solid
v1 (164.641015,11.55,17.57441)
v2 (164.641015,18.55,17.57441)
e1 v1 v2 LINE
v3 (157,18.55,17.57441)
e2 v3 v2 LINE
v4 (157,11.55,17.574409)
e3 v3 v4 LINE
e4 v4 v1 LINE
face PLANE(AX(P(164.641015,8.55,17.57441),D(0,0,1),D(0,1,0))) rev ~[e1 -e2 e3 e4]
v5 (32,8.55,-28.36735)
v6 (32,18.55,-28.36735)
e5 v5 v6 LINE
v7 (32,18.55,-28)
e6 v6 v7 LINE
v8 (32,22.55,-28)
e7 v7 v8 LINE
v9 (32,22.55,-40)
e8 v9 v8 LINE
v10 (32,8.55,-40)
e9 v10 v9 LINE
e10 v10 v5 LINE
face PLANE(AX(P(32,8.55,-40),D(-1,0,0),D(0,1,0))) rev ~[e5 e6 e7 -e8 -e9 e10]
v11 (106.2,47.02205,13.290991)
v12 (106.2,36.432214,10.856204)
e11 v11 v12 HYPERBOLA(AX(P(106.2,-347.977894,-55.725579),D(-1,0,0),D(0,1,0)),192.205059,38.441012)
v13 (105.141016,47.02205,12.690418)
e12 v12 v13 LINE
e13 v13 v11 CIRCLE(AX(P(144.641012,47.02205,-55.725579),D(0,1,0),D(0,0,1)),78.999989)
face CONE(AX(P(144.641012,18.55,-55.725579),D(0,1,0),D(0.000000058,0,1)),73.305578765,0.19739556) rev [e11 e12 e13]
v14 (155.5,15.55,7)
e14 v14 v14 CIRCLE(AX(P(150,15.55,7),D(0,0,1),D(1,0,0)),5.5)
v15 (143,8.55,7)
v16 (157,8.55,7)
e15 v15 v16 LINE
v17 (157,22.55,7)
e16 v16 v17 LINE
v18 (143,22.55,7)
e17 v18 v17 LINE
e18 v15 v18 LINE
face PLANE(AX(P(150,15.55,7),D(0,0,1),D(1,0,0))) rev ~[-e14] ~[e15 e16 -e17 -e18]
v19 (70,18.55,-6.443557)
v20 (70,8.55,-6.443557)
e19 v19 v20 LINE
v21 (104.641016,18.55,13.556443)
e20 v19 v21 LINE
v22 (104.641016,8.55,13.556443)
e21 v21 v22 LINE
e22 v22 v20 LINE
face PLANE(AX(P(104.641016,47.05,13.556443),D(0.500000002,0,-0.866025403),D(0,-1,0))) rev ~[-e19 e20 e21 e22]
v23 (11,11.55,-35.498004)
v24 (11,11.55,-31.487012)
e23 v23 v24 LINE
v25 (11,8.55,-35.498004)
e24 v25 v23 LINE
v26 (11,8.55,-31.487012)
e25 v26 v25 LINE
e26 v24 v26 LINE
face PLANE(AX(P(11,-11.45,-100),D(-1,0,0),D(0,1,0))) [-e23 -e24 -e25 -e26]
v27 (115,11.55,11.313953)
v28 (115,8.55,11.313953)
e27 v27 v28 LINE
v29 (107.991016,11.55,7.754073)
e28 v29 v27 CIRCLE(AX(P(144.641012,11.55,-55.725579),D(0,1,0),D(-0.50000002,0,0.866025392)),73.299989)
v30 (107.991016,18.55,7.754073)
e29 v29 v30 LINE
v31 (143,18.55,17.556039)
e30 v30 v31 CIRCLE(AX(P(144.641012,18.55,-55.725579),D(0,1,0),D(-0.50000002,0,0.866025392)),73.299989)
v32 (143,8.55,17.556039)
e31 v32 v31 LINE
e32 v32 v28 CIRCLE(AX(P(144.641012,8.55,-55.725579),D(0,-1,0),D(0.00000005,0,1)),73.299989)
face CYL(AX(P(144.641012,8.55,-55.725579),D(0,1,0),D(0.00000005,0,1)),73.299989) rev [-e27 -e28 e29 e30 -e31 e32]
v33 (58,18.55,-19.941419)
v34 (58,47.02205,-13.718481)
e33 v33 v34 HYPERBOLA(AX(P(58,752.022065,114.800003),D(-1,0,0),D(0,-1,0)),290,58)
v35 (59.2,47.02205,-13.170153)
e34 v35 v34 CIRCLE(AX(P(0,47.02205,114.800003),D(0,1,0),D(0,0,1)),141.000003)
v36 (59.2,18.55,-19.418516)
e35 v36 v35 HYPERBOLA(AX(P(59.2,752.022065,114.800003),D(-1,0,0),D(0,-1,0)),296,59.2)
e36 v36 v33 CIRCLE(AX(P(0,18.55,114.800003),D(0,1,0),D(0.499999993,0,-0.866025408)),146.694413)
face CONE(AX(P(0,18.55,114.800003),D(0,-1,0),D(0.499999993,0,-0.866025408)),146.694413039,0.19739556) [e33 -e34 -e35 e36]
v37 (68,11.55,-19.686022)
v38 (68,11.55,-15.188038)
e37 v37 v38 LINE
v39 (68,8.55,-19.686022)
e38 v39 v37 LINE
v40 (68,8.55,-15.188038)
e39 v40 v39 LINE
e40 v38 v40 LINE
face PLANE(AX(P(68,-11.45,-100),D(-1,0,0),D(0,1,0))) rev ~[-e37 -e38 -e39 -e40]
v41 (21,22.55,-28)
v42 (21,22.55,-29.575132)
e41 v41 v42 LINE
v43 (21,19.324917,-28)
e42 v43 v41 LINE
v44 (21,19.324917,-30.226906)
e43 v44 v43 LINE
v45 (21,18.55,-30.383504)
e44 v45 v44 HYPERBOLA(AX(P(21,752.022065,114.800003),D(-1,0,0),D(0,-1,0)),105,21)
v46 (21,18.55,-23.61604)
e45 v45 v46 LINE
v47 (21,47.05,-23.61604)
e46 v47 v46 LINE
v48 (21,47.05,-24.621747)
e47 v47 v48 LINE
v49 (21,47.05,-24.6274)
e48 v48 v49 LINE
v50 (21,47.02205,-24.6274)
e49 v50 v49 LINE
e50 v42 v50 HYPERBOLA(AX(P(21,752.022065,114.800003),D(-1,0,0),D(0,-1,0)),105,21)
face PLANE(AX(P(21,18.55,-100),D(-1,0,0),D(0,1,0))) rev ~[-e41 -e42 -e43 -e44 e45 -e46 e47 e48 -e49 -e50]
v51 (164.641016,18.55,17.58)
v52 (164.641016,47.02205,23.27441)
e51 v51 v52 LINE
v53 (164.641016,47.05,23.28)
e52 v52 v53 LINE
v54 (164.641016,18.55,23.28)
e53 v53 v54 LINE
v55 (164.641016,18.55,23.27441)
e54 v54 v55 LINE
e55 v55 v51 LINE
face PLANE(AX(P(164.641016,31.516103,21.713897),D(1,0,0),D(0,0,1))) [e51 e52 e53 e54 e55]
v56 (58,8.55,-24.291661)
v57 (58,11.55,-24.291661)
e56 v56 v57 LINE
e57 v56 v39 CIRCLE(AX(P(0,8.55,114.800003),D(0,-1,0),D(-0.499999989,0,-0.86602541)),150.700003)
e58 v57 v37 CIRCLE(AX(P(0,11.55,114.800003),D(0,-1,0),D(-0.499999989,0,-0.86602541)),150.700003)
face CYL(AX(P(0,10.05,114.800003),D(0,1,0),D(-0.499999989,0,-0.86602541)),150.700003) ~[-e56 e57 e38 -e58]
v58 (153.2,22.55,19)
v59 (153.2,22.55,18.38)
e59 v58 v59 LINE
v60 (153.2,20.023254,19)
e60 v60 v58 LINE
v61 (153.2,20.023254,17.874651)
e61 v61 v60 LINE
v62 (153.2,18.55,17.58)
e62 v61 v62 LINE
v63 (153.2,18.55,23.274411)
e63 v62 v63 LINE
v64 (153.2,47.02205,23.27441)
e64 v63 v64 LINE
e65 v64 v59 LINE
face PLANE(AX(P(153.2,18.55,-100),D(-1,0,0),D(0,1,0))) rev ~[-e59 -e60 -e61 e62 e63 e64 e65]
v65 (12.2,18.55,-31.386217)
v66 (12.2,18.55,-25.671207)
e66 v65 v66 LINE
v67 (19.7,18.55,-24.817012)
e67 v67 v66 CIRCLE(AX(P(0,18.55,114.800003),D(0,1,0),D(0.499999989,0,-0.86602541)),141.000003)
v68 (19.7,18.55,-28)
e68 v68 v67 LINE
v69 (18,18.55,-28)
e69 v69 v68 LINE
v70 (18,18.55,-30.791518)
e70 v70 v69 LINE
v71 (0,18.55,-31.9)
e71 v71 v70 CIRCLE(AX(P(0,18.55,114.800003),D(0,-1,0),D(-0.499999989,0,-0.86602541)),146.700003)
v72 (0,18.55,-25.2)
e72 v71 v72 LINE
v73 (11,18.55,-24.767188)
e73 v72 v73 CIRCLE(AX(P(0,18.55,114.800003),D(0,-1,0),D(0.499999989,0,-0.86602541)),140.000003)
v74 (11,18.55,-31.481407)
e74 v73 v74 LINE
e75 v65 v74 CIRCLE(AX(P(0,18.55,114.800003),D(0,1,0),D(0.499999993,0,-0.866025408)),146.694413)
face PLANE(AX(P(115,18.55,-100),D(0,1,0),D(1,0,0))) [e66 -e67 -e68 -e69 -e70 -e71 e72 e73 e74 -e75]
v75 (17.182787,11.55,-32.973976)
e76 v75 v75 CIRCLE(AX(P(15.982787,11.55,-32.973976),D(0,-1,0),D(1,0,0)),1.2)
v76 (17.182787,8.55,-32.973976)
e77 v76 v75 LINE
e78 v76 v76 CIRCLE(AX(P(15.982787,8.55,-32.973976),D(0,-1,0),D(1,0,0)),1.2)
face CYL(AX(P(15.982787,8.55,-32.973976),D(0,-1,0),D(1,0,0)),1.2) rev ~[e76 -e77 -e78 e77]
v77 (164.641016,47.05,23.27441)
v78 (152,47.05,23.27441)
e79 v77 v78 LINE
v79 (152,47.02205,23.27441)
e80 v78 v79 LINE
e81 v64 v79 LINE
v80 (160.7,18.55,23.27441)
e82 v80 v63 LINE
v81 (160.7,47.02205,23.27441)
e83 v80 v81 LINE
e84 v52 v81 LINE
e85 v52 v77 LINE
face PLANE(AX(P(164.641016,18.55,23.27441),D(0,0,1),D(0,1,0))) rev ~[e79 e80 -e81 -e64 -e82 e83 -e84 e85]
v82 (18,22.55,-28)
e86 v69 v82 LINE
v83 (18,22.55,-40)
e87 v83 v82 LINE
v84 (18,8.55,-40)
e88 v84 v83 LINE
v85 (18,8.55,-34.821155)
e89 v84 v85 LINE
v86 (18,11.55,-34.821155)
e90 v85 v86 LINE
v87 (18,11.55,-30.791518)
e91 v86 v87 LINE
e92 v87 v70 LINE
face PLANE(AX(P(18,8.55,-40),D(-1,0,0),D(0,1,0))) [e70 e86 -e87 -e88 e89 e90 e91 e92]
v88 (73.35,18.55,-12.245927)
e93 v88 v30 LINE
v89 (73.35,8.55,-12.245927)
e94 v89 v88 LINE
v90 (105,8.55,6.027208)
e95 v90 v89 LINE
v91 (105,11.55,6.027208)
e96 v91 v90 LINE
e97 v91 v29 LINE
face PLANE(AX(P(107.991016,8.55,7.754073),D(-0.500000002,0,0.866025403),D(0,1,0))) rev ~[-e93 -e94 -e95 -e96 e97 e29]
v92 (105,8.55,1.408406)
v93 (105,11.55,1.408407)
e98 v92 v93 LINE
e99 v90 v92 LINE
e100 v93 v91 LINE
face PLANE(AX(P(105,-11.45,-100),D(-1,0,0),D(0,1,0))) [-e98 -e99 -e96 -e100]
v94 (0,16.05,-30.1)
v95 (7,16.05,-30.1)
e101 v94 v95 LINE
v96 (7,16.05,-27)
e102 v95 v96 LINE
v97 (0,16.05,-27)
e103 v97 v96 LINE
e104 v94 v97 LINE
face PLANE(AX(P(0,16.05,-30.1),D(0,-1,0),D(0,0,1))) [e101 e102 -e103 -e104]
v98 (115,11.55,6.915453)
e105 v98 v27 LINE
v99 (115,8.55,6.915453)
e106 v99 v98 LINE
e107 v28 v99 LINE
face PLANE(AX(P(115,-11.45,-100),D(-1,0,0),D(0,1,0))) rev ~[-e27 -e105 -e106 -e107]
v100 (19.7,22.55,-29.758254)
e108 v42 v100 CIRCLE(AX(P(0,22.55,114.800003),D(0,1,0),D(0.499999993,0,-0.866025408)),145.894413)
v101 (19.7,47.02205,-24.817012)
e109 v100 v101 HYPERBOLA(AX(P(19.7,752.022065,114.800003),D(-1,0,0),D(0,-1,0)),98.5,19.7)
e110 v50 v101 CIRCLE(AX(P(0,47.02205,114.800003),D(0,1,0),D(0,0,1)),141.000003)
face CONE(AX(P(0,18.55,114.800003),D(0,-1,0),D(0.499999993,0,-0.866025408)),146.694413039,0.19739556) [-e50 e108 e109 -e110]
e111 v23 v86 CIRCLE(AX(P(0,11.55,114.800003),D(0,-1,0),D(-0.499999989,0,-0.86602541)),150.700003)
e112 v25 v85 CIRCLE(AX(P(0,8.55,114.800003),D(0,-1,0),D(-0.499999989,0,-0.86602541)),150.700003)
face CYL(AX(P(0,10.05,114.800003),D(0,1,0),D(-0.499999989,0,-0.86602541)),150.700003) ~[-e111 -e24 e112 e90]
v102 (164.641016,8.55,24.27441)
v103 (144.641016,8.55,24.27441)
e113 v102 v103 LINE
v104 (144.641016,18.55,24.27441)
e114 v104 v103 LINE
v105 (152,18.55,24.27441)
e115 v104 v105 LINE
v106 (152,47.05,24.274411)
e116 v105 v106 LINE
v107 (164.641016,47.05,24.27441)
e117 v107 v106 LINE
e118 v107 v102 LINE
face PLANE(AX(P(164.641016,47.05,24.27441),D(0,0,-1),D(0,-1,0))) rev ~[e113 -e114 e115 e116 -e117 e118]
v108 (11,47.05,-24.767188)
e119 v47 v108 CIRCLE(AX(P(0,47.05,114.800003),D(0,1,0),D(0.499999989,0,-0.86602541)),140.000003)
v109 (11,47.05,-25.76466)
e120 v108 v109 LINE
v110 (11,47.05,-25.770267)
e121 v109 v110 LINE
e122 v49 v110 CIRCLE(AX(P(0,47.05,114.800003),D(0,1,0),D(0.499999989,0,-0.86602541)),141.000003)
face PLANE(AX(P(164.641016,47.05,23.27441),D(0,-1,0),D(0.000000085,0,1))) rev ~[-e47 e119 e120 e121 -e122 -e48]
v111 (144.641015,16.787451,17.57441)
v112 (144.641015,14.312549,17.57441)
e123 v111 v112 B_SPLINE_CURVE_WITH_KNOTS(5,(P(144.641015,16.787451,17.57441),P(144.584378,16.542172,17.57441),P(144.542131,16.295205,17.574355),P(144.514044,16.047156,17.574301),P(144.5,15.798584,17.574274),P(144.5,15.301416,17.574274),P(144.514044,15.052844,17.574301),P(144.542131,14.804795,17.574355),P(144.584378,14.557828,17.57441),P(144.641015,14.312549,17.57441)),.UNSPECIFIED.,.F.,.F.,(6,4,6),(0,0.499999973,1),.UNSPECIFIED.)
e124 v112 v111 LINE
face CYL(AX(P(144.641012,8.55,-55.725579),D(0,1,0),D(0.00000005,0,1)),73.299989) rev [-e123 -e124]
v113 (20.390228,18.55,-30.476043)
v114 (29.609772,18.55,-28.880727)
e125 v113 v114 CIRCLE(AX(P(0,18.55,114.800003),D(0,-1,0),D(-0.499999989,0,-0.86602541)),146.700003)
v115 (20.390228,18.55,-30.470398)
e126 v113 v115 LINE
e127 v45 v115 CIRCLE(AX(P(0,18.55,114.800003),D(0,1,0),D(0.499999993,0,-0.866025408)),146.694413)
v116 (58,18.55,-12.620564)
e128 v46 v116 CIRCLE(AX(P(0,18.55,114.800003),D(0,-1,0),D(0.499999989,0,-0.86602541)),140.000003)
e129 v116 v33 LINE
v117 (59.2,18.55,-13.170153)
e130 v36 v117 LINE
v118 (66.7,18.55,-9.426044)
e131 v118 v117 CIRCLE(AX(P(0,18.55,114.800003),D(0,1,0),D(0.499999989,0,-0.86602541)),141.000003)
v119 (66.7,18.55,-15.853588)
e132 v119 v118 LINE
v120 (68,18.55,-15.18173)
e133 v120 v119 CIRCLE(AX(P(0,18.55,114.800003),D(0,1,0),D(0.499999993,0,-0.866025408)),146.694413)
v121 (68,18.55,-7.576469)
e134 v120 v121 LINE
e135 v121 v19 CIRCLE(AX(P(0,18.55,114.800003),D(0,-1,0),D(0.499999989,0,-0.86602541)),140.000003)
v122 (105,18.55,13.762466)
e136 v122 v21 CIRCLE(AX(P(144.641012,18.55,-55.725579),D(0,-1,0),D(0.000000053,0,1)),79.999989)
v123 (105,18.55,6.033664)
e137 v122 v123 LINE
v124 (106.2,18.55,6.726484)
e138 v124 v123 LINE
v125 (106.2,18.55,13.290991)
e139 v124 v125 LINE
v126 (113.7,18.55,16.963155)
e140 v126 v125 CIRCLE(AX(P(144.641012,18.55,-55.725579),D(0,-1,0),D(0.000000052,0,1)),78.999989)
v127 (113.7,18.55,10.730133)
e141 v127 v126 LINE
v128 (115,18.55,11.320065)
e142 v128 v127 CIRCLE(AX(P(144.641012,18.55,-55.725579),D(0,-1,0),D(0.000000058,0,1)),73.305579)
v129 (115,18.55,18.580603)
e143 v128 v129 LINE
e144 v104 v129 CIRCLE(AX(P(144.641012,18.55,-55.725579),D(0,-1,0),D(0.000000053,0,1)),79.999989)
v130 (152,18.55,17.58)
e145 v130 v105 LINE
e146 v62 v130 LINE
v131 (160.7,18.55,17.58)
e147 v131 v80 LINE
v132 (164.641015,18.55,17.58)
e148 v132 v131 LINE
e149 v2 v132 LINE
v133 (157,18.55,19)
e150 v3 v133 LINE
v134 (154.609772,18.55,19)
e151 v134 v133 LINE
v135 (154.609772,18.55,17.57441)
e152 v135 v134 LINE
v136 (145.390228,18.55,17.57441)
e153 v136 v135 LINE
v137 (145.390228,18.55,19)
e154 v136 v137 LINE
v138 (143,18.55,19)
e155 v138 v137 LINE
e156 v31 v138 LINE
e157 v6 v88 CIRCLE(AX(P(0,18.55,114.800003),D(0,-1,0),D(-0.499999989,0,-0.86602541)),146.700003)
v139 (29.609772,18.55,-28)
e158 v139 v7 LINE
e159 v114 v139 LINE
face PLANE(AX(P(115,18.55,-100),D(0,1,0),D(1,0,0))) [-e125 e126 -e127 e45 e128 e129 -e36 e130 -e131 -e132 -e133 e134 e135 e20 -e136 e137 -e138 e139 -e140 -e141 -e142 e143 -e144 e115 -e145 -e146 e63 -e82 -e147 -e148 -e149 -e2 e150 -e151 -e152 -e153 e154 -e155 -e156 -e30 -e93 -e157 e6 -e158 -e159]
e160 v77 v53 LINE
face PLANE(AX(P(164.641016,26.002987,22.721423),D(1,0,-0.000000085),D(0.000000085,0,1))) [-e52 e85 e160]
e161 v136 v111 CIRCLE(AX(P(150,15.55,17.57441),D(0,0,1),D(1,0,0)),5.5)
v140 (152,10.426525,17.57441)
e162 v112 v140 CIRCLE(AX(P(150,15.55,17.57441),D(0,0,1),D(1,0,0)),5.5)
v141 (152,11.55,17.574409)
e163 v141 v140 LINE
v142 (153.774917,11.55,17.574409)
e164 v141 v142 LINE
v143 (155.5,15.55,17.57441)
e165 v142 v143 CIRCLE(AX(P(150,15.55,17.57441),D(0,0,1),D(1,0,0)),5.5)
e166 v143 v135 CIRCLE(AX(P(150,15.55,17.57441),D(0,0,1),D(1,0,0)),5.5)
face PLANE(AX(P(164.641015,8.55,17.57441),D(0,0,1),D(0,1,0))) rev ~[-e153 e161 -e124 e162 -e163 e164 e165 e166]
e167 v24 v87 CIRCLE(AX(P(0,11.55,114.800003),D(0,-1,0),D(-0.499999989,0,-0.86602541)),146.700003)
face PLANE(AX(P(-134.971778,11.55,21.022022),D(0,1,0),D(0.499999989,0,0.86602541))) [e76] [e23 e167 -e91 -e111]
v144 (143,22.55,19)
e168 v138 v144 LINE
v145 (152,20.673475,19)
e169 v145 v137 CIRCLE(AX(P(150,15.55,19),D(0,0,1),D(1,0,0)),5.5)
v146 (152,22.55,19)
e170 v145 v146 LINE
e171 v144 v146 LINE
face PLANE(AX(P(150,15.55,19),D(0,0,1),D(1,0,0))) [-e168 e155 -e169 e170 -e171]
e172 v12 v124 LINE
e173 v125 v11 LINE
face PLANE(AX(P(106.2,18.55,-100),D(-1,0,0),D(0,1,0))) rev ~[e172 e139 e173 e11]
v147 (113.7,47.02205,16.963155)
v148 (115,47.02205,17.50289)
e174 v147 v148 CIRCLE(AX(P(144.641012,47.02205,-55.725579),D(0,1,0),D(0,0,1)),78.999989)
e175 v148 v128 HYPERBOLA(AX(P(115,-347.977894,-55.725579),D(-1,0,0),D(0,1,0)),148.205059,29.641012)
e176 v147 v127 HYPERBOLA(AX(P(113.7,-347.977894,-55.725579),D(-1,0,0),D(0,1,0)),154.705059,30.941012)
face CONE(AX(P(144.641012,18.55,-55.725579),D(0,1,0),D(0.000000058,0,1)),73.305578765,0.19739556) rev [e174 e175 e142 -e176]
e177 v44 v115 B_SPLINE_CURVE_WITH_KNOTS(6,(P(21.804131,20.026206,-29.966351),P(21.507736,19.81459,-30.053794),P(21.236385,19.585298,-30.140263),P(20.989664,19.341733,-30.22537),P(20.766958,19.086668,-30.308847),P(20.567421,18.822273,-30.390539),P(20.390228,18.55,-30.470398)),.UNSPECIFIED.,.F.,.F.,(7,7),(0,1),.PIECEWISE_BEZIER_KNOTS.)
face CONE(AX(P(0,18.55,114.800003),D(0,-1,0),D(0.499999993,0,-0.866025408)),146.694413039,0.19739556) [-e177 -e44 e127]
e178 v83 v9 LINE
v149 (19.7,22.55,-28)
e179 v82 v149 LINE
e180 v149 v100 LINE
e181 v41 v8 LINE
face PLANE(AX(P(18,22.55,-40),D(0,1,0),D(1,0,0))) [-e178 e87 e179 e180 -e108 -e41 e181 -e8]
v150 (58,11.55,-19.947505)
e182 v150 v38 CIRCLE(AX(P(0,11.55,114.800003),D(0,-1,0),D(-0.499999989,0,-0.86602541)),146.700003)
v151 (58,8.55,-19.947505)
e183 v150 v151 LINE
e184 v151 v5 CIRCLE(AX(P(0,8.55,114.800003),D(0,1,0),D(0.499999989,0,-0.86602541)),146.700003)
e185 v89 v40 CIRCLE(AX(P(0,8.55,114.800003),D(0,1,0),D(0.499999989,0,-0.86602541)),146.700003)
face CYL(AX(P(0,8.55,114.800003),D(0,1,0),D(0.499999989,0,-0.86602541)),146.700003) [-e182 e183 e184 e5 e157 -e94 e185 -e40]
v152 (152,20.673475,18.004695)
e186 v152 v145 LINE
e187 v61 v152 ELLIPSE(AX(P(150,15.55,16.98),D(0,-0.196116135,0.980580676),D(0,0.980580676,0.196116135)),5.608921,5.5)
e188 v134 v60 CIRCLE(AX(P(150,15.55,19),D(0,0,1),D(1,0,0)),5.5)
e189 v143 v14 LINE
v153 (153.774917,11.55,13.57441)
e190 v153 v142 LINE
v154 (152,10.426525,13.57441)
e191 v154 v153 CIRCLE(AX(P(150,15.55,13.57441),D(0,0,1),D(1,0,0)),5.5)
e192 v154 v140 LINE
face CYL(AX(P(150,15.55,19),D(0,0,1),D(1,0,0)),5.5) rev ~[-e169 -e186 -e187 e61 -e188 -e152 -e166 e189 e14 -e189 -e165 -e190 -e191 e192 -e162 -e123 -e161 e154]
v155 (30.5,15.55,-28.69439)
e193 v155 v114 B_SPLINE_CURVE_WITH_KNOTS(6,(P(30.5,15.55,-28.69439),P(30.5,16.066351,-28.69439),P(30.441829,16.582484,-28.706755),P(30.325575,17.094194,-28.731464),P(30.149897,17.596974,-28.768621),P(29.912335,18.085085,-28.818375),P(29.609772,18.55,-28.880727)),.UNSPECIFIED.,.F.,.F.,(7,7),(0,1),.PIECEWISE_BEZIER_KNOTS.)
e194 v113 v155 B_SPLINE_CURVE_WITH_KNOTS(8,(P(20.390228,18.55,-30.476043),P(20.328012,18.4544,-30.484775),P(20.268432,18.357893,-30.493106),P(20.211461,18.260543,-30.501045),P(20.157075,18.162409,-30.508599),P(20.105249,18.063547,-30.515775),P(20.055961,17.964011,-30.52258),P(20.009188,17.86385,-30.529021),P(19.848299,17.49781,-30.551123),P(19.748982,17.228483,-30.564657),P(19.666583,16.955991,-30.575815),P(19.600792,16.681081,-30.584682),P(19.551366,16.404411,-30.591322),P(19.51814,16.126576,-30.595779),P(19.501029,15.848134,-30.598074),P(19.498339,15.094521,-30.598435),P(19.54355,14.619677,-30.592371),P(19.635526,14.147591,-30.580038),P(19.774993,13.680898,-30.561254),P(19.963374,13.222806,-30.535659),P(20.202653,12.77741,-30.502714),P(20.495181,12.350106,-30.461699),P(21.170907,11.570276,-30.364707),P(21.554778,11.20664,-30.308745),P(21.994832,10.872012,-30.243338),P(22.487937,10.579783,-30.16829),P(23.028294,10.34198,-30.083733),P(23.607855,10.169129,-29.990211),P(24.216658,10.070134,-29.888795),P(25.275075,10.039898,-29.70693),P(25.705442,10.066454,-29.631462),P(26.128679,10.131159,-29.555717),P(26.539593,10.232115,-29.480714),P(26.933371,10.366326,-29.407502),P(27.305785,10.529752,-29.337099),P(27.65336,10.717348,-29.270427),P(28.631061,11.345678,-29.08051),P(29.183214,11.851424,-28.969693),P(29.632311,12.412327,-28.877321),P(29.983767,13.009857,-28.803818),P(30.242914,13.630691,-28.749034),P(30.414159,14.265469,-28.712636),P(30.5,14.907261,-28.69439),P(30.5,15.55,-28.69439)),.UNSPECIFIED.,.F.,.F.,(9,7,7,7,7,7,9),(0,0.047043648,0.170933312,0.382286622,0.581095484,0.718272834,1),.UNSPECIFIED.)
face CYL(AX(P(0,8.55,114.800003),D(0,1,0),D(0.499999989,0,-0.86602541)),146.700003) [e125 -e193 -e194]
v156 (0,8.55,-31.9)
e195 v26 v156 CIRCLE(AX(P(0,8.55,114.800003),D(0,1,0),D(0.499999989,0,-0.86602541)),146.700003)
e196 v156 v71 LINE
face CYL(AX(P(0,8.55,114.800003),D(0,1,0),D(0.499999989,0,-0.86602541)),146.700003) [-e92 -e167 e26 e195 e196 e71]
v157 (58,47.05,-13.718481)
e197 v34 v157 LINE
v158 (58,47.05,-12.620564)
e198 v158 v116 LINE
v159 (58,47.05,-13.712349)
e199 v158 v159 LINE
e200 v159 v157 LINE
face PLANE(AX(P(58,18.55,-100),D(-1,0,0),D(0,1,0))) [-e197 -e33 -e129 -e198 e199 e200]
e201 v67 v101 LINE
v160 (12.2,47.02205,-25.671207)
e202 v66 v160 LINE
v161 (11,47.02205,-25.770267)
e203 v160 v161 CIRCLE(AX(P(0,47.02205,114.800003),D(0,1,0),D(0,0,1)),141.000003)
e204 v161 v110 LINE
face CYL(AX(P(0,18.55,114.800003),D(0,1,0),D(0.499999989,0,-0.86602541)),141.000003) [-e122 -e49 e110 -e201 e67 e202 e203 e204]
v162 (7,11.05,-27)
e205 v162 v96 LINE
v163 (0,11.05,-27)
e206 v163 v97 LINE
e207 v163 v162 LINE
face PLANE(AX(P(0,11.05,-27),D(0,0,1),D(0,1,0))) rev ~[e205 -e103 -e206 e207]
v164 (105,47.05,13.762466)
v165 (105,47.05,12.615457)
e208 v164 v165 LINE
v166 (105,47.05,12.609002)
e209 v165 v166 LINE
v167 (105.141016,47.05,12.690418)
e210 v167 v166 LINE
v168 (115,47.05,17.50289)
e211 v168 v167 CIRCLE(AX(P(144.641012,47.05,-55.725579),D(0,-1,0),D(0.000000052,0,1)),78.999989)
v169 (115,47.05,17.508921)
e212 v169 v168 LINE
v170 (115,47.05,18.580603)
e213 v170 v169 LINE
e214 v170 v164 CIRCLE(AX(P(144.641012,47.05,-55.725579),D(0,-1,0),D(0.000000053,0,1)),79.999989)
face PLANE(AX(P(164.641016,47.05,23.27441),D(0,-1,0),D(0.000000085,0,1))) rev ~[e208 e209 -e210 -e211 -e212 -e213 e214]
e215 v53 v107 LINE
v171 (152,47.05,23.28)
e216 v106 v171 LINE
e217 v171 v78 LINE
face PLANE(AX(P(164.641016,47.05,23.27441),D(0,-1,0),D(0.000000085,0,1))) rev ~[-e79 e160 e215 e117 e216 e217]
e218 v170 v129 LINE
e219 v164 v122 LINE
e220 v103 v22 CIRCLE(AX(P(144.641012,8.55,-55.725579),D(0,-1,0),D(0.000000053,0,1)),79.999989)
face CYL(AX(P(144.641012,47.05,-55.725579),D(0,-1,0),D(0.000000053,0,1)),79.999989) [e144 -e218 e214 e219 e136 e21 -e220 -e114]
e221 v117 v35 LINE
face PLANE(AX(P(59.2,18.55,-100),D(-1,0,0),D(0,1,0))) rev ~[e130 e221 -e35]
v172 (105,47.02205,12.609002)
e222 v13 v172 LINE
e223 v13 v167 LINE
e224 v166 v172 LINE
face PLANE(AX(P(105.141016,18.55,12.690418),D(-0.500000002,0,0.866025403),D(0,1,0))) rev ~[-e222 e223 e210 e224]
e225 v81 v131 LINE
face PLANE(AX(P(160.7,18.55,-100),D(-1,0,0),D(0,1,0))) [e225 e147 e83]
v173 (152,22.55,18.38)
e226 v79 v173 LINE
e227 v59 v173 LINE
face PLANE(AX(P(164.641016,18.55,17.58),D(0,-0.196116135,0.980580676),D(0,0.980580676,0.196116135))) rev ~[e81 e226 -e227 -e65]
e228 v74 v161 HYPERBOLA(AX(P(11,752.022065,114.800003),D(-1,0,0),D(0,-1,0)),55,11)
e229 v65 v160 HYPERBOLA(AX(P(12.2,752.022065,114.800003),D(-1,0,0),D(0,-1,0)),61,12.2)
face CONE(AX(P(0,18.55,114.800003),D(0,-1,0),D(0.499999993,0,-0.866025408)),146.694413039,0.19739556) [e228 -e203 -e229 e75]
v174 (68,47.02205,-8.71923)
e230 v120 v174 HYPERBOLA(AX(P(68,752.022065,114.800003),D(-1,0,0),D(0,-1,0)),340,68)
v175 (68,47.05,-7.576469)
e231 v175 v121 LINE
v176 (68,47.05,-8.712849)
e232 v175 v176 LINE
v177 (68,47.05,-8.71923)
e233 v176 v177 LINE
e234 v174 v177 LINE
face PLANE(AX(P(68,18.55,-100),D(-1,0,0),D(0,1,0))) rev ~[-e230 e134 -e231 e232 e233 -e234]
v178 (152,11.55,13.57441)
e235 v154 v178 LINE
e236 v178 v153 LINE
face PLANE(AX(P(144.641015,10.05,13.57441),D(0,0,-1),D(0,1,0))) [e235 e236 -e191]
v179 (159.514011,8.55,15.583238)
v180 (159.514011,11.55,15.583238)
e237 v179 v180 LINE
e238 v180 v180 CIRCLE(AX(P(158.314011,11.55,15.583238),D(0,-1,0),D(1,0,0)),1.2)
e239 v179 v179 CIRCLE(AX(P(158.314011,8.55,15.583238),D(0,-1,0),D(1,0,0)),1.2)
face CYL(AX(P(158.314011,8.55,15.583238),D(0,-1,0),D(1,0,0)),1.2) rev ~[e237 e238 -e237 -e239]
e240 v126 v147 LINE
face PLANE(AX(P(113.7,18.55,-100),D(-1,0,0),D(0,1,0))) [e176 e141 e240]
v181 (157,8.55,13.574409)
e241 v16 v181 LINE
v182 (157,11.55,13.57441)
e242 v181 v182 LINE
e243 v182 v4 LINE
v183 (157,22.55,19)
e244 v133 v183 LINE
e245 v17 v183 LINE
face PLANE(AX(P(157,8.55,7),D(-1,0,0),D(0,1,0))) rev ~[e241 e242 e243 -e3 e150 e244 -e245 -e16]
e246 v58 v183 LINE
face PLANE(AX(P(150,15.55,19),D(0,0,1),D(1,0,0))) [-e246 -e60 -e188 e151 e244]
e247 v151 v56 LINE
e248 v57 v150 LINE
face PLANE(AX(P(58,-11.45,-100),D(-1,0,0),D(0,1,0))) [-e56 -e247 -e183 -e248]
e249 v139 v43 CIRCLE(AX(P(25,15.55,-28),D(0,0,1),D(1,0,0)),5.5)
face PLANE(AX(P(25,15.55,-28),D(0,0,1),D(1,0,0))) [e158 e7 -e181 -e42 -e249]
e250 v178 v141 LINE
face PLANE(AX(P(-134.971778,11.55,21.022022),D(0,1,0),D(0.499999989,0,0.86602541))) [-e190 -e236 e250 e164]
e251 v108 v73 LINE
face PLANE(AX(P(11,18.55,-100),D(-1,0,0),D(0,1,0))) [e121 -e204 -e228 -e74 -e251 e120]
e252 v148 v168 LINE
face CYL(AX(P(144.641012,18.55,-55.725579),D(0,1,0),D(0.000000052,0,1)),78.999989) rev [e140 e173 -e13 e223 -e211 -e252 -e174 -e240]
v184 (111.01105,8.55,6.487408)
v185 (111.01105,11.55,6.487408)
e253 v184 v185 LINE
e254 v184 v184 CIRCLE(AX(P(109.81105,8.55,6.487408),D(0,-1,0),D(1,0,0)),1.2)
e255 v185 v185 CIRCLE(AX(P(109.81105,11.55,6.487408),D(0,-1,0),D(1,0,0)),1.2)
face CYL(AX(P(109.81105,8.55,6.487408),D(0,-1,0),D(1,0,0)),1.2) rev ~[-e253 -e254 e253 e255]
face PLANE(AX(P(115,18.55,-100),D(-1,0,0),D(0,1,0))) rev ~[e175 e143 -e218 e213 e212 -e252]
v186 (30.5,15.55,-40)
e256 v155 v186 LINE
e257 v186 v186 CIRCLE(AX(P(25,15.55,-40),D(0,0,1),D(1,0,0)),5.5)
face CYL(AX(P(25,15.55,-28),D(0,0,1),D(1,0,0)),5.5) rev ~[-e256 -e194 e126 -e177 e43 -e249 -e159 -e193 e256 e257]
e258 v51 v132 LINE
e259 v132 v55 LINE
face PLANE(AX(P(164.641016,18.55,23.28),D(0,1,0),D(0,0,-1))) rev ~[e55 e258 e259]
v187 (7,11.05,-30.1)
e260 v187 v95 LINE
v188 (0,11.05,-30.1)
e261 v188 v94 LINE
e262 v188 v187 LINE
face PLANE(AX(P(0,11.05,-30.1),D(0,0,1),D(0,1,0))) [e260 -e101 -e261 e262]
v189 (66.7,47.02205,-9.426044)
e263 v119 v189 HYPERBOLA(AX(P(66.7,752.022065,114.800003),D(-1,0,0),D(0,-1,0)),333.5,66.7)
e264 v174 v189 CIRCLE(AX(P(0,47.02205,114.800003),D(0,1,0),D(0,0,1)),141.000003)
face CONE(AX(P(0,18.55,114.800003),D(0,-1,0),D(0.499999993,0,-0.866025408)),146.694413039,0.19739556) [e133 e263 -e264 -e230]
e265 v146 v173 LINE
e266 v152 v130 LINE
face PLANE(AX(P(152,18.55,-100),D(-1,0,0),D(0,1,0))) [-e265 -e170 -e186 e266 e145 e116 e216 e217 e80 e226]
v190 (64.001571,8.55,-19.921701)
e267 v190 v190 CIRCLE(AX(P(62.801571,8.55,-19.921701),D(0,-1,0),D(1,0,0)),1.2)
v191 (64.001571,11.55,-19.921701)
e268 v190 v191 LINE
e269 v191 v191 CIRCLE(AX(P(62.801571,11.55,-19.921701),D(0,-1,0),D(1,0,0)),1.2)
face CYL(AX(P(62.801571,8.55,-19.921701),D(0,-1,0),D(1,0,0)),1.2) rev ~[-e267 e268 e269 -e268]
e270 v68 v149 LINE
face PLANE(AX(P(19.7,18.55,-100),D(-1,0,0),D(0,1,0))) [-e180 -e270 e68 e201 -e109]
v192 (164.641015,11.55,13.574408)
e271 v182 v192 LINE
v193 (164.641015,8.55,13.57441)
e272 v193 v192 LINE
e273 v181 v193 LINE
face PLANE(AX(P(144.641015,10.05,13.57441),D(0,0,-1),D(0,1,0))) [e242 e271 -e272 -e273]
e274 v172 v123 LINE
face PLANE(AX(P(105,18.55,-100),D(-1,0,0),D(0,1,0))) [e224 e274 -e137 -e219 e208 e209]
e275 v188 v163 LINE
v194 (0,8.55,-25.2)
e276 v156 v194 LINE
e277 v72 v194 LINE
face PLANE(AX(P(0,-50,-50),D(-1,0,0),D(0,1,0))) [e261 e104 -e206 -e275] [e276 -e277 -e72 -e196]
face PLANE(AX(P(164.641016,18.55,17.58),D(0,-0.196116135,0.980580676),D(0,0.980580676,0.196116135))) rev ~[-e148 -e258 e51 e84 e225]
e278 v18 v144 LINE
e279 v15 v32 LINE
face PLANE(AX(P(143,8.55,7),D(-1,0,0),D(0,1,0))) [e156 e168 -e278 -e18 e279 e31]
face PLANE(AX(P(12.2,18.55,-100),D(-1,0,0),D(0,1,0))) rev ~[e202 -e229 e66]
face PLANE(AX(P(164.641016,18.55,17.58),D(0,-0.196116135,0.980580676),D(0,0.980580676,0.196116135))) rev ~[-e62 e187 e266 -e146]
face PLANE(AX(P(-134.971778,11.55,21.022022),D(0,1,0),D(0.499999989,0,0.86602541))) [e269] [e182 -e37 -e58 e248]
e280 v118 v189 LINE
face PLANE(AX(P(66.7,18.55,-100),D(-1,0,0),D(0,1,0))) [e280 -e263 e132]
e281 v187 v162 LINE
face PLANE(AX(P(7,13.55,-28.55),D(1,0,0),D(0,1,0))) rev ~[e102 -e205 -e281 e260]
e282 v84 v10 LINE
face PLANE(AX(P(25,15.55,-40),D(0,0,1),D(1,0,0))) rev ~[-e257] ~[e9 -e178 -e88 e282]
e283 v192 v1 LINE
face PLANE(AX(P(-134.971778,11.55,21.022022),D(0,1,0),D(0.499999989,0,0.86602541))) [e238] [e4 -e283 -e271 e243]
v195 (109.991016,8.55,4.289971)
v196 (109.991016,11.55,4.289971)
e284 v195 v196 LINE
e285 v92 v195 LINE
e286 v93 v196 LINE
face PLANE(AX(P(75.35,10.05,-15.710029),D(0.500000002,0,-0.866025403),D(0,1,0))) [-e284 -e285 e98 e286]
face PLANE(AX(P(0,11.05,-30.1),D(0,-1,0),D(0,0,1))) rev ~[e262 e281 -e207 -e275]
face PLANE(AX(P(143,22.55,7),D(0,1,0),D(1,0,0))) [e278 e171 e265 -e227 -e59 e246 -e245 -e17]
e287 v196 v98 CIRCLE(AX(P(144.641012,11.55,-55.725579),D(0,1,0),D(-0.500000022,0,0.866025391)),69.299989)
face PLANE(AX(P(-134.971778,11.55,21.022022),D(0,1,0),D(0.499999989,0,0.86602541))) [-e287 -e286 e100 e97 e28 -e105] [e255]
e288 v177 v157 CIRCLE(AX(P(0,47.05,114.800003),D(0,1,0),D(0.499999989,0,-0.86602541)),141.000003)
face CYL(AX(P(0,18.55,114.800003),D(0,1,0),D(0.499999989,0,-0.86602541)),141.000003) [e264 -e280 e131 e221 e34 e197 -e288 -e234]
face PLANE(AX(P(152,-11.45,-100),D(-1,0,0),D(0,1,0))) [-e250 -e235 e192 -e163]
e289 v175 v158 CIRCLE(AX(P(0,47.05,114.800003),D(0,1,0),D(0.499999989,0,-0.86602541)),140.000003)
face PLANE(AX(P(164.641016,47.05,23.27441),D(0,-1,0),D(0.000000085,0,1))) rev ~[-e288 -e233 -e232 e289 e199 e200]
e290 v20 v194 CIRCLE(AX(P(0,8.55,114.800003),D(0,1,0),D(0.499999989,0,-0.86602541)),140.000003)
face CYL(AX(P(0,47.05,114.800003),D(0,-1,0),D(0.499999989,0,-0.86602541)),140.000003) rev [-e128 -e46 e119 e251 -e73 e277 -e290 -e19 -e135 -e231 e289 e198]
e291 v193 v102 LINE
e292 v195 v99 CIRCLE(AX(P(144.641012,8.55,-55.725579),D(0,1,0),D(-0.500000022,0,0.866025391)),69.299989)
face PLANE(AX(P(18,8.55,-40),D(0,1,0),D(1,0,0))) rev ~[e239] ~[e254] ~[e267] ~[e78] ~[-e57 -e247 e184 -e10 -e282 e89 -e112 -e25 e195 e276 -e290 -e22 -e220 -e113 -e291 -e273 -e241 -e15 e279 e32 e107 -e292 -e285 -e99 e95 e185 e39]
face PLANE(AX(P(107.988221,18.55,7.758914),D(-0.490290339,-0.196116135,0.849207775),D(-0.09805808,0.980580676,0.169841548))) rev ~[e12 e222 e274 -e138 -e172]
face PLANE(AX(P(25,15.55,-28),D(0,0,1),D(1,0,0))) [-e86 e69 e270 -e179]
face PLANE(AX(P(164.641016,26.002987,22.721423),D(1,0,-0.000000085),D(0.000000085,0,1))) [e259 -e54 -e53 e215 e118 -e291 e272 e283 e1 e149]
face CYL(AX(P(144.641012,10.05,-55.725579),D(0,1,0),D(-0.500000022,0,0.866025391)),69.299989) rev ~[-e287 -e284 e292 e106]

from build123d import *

# Parameters (mm, degrees)
SKETCH038_W            = 5
SKETCH038_H            = 3.1
EXTRUDE001_DEPTH       = 7
BOX010_W               = 200
BOX010_H               = 100
BOX010_DEPTH           = 100
BOX008_W               = 20
BOX008_H               = 20
BOX008_DEPTH           = 20
BOX008_PLACEMENT_ANGLE = 30
BOX011_W               = 14
BOX011_H               = 14
BOX011_DEPTH           = 20
SKETCH039_R            = 5.5
POCKET007_DEPTH        = 20.001
BOX014_W               = 7.5
BOX014_H               = 60
BOX014_DEPTH           = 200
ARRAY002_X_COUNT       = 7
ARRAY002_X_PITCH       = 47
BOX006_W               = 37
BOX006_H               = 60
BOX006_DEPTH           = 200
ARRAY_X_COUNT          = 6
ARRAY_X_PITCH          = 47
BOX012_W               = 14
BOX012_H               = 14
BOX012_DEPTH           = 12
SKETCH032_R            = 5.5
POCKET009_DEPTH        = 12.001
BOX013_W               = 14
BOX013_H               = 14
BOX013_DEPTH           = 12
SKETCH034_R            = 5.5
POCKET008_DEPTH        = 12.001
BOX009_W               = 37
BOX009_H               = 60
BOX009_DEPTH           = 200
ARRAY001_X_COUNT       = 6
ARRAY001_X_PITCH       = 47
SKETCH035_W            = 3
SKETCH035_H            = 4
SKETCH036_R            = 1.2
POCKET006_DEPTH        = 3.001


with BuildPart() as extrude001:
    # Sketch038 → Extrude001 (new body)
    with BuildSketch(Plane.YZ):
        with Locations((13.55, -28.55)):
            Rectangle(SKETCH038_W, SKETCH038_H)
    extrude(amount=EXTRUDE001_DEPTH)


with BuildPart() as bigleft:
    # Box010 → Box010 (new body)
    with BuildSketch(Plane(origin=(0, -50, -50), x_dir=(1, 0, 0), z_dir=(0, 0, 1))):
        with Locations((100, 50)):
            Rectangle(BOX010_W, BOX010_H)
    extrude(amount=BOX010_DEPTH)


with BuildPart() as pillar_cut_cube_l:
    # Box008 → Box008 (new body)
    with BuildSketch(Plane.XY):
        with Locations((10, 10)):
            Rectangle(BOX008_W, BOX008_H)
    extrude(amount=BOX008_DEPTH)


with BuildPart() as pillar_cut_cube_l_1:
    # Box008 placement: moved
    add(pillar_cut_cube_l.part.moved(Location((-127.001, 5, 20.4905))).rotate(Axis((-127.001, 5, 20.4905), (0, 1, 0)), BOX008_PLACEMENT_ANGLE))


with BuildPart() as cut011:
    # Box011 → Box011 (new body)
    with BuildSketch(Plane(origin=(-125, 8.55, 0), x_dir=(1, 0, 0), z_dir=(0, 0, 1))):
        with Locations((7, 7)):
            Rectangle(BOX011_W, BOX011_H)
    extrude(amount=BOX011_DEPTH)

    # Sketch039 → Pocket007 (cut, through all)
    with BuildSketch(Plane(origin=(-125, 8.55, 20), x_dir=(1, 0, 0), z_dir=(0, 0, 1))):
        with Locations((7, 7)):
            Circle(SKETCH039_R)
    extrude(amount=-POCKET007_DEPTH, mode=Mode.SUBTRACT)

    # Cut011: cut pillar_cut_cube_l
    add(pillar_cut_cube_l_1.part, mode=Mode.SUBTRACT)


with BuildPart() as array002:
    # Box014 → Box014 (new body)
    with BuildSketch(Plane(origin=(-128.8, 18.55, -100), x_dir=(1, 0, 0), z_dir=(0, 0, 1))):
        with Locations((3.75, 30)):
            Rectangle(BOX014_W, BOX014_H)
    extrude(amount=BOX014_DEPTH)

    # Array002 X: Array002 ×7


with BuildPart() as array002_1:
    add(array002.part)
    with Locations(*[(i * ARRAY002_X_PITCH, 0, 0) for i in range(1, ARRAY002_X_COUNT)]):
        add(array002.part)


with BuildPart() as rail_cut_cube_array_b:
    # Box006 → Box006 (new body)
    with BuildSketch(Plane(origin=(-120, 18.55, -100), x_dir=(1, 0, 0), z_dir=(0, 0, 1))):
        with Locations((18.5, 30)):
            Rectangle(BOX006_W, BOX006_H)
    extrude(amount=BOX006_DEPTH)

    # Array X: rail_cut_cube_array_b ×6


with BuildPart() as rail_cut_cube_array_b_1:
    add(rail_cut_cube_array_b.part)
    with Locations(*[(i * ARRAY_X_PITCH, 0, 0) for i in range(1, ARRAY_X_COUNT)]):
        add(rail_cut_cube_array_b.part)


with BuildPart() as cut013:
    # Sweep002: sweep along a path in Sketch028
    with BuildLine(Plane.XZ) as sweep002_path:
        Line((164.641016, 24.27441), (144.641016, 24.27441))
        ThreePointArc((144.641016, 24.27441), (123.935493, 21.548477), (104.641016, 13.556443))
        Line((104.641016, 13.556443), (70, -6.443557))
        ThreePointArc((70, -6.443557), (0, -25.2), (-70, -6.443557))
        Line((-70, -6.443557), (-130.621778, 28.556443))
    # Sketch043 → Sweep002 (sweep)
    with BuildSketch(Plane.YZ.offset(164.641016)):
        Polygon((18.55, 17.58), (47.05, 23.28), (18.55, 23.28), align=None)
    sweep(path=sweep002_path.line)

    # Cut012: cut rail_cut_cube_array_b
    add(rail_cut_cube_array_b_1.part, mode=Mode.SUBTRACT)

    # Cut013: cut Array002
    add(array002_1.part, mode=Mode.SUBTRACT)


with BuildPart() as rail_cut_b:
    # Sweep: sweep along a path in Sketch028
    with BuildLine(Plane.XZ) as sweep_path:
        Line((164.641016, 24.27441), (144.641016, 24.27441))
        ThreePointArc((144.641016, 24.27441), (123.935493, 21.548477), (104.641016, 13.556443))
        Line((104.641016, 13.556443), (70, -6.443557))
        ThreePointArc((70, -6.443557), (0, -25.2), (-70, -6.443557))
        Line((-70, -6.443557), (-130.621778, 28.556443))
    # Sketch029 → Sweep (sweep)
    with BuildSketch(Plane.YZ):
        Polygon((-19.25, -25.2), (-19.25, -31.9), (-9.25, -31.9), (-9.25, -26.2), (19.25, -26.2), (19.25, -25.2), align=None)
    sweep(path=sweep_path.line)


with BuildPart() as rail_cut_b_1:
    # Sweep placement: moved
    add(rail_cut_b.part.moved(Location((0, 27.8, 0))))

    # Cut007: cut rail_cut_cube_array_b
    add(rail_cut_cube_array_b_1.part, mode=Mode.SUBTRACT)


with BuildPart() as pillar_hollow_r:
    # Box012 → Box012 (new body)
    with BuildSketch(Plane(origin=(143, 8.55, 7), x_dir=(1, 0, 0), z_dir=(0, 0, 1))):
        with Locations((7, 7)):
            Rectangle(BOX012_W, BOX012_H)
    extrude(amount=BOX012_DEPTH)

    # Sketch032 → Pocket009 (cut, through all)
    with BuildSketch(Plane(origin=(143, 8.55, 19), x_dir=(1, 0, 0), z_dir=(0, 0, 1))):
        with Locations((7, 7)):
            Circle(SKETCH032_R)
    extrude(amount=-POCKET009_DEPTH, mode=Mode.SUBTRACT)


with BuildPart() as pillar_hollow_m:
    # Box013 → Box013 (new body)
    with BuildSketch(Plane(origin=(18, 8.55, -40), x_dir=(1, 0, 0), z_dir=(0, 0, 1))):
        with Locations((7, 7)):
            Rectangle(BOX013_W, BOX013_H)
    extrude(amount=BOX013_DEPTH)

    # Sketch034 → Pocket008 (cut, through all)
    with BuildSketch(Plane(origin=(18, 8.55, -28), x_dir=(1, 0, 0), z_dir=(0, 0, 1))):
        with Locations((7, 7)):
            Circle(SKETCH034_R)
    extrude(amount=-POCKET008_DEPTH, mode=Mode.SUBTRACT)


with BuildPart() as mount_cube_array_b:
    # Box009 → Box009 (new body)
    with BuildSketch(Plane(origin=(-120, 18.55, -100), x_dir=(1, 0, 0), z_dir=(0, 0, 1))):
        with Locations((18.5, 30)):
            Rectangle(BOX009_W, BOX009_H)
    extrude(amount=BOX009_DEPTH)

    # Array001 X: mount_cube_array_b ×6


with BuildPart() as mount_cube_array_b_1:
    add(mount_cube_array_b.part)
    with Locations(*[(i * ARRAY001_X_PITCH, 0, 0) for i in range(1, ARRAY001_X_COUNT)]):
        add(mount_cube_array_b.part)


with BuildPart() as mount_cube_array_b_2:
    # Array001 placement: moved
    add(mount_cube_array_b_1.part.moved(Location((0, -30, 0))))


with BuildPart() as rail_br:
    # Sweep001: sweep along a path in Sketch028
    with BuildLine(Plane.XZ) as sweep001_path:
        Line((-130.621778, 28.556443), (-70, -6.443557))
        ThreePointArc((-70, -6.443557), (0, -25.2), (70, -6.443557))
        Line((70, -6.443557), (104.641016, 13.556443))
        ThreePointArc((104.641016, 13.556443), (123.935493, 21.548477), (144.641016, 24.27441))
        Line((144.641016, 24.27441), (164.641016, 24.27441))
    # Sketch035 → Sweep001 (sweep)
    with BuildSketch(Plane.YZ):
        with Locations((-17.75, -33.9)):
            Rectangle(SKETCH035_W, SKETCH035_H)
    sweep(path=sweep001_path.line)


with BuildPart() as rail_br_1:
    # Sweep001 placement: moved
    add(rail_br.part.moved(Location((0, 27.8, 0))))

    # Sketch036 → Pocket006 (cut, through all)
    with BuildSketch(Plane.XZ.offset(-8.55)):
        with Locations((-127.361382, 16.612761)):
            Circle(SKETCH036_R)
        with Locations((-78.25576, -11.759304)):
            Circle(SKETCH036_R)
        with Locations((-31.170284, -30.615305)):
            Circle(SKETCH036_R)
        with Locations((15.982787, -32.973976)):
            Circle(SKETCH036_R)
        with Locations((62.801571, -19.921701)):
            Circle(SKETCH036_R)
        with Locations((109.81105, 6.487408)):
            Circle(SKETCH036_R)
        with Locations((158.314011, 15.583238)):
            Circle(SKETCH036_R)
    extrude(amount=-POCKET006_DEPTH, mode=Mode.SUBTRACT)

    # Cut010: cut mount_cube_array_b
    add(mount_cube_array_b_2.part, mode=Mode.SUBTRACT)

    # Fusion003: union Cut011, Cut013, rail_cut_b, pillar_hollow_r, pillar_hollow_m
    add(cut011.part)
    add(cut013.part)
    add(rail_cut_b_1.part)
    add(pillar_hollow_r.part)
    add(pillar_hollow_m.part)

    # Common: intersect bigleft
    add(bigleft.part, mode=Mode.INTERSECT)

    # Cut015: cut Extrude001
    add(extrude001.part, mode=Mode.SUBTRACT)


solid = rail_br_1.part
